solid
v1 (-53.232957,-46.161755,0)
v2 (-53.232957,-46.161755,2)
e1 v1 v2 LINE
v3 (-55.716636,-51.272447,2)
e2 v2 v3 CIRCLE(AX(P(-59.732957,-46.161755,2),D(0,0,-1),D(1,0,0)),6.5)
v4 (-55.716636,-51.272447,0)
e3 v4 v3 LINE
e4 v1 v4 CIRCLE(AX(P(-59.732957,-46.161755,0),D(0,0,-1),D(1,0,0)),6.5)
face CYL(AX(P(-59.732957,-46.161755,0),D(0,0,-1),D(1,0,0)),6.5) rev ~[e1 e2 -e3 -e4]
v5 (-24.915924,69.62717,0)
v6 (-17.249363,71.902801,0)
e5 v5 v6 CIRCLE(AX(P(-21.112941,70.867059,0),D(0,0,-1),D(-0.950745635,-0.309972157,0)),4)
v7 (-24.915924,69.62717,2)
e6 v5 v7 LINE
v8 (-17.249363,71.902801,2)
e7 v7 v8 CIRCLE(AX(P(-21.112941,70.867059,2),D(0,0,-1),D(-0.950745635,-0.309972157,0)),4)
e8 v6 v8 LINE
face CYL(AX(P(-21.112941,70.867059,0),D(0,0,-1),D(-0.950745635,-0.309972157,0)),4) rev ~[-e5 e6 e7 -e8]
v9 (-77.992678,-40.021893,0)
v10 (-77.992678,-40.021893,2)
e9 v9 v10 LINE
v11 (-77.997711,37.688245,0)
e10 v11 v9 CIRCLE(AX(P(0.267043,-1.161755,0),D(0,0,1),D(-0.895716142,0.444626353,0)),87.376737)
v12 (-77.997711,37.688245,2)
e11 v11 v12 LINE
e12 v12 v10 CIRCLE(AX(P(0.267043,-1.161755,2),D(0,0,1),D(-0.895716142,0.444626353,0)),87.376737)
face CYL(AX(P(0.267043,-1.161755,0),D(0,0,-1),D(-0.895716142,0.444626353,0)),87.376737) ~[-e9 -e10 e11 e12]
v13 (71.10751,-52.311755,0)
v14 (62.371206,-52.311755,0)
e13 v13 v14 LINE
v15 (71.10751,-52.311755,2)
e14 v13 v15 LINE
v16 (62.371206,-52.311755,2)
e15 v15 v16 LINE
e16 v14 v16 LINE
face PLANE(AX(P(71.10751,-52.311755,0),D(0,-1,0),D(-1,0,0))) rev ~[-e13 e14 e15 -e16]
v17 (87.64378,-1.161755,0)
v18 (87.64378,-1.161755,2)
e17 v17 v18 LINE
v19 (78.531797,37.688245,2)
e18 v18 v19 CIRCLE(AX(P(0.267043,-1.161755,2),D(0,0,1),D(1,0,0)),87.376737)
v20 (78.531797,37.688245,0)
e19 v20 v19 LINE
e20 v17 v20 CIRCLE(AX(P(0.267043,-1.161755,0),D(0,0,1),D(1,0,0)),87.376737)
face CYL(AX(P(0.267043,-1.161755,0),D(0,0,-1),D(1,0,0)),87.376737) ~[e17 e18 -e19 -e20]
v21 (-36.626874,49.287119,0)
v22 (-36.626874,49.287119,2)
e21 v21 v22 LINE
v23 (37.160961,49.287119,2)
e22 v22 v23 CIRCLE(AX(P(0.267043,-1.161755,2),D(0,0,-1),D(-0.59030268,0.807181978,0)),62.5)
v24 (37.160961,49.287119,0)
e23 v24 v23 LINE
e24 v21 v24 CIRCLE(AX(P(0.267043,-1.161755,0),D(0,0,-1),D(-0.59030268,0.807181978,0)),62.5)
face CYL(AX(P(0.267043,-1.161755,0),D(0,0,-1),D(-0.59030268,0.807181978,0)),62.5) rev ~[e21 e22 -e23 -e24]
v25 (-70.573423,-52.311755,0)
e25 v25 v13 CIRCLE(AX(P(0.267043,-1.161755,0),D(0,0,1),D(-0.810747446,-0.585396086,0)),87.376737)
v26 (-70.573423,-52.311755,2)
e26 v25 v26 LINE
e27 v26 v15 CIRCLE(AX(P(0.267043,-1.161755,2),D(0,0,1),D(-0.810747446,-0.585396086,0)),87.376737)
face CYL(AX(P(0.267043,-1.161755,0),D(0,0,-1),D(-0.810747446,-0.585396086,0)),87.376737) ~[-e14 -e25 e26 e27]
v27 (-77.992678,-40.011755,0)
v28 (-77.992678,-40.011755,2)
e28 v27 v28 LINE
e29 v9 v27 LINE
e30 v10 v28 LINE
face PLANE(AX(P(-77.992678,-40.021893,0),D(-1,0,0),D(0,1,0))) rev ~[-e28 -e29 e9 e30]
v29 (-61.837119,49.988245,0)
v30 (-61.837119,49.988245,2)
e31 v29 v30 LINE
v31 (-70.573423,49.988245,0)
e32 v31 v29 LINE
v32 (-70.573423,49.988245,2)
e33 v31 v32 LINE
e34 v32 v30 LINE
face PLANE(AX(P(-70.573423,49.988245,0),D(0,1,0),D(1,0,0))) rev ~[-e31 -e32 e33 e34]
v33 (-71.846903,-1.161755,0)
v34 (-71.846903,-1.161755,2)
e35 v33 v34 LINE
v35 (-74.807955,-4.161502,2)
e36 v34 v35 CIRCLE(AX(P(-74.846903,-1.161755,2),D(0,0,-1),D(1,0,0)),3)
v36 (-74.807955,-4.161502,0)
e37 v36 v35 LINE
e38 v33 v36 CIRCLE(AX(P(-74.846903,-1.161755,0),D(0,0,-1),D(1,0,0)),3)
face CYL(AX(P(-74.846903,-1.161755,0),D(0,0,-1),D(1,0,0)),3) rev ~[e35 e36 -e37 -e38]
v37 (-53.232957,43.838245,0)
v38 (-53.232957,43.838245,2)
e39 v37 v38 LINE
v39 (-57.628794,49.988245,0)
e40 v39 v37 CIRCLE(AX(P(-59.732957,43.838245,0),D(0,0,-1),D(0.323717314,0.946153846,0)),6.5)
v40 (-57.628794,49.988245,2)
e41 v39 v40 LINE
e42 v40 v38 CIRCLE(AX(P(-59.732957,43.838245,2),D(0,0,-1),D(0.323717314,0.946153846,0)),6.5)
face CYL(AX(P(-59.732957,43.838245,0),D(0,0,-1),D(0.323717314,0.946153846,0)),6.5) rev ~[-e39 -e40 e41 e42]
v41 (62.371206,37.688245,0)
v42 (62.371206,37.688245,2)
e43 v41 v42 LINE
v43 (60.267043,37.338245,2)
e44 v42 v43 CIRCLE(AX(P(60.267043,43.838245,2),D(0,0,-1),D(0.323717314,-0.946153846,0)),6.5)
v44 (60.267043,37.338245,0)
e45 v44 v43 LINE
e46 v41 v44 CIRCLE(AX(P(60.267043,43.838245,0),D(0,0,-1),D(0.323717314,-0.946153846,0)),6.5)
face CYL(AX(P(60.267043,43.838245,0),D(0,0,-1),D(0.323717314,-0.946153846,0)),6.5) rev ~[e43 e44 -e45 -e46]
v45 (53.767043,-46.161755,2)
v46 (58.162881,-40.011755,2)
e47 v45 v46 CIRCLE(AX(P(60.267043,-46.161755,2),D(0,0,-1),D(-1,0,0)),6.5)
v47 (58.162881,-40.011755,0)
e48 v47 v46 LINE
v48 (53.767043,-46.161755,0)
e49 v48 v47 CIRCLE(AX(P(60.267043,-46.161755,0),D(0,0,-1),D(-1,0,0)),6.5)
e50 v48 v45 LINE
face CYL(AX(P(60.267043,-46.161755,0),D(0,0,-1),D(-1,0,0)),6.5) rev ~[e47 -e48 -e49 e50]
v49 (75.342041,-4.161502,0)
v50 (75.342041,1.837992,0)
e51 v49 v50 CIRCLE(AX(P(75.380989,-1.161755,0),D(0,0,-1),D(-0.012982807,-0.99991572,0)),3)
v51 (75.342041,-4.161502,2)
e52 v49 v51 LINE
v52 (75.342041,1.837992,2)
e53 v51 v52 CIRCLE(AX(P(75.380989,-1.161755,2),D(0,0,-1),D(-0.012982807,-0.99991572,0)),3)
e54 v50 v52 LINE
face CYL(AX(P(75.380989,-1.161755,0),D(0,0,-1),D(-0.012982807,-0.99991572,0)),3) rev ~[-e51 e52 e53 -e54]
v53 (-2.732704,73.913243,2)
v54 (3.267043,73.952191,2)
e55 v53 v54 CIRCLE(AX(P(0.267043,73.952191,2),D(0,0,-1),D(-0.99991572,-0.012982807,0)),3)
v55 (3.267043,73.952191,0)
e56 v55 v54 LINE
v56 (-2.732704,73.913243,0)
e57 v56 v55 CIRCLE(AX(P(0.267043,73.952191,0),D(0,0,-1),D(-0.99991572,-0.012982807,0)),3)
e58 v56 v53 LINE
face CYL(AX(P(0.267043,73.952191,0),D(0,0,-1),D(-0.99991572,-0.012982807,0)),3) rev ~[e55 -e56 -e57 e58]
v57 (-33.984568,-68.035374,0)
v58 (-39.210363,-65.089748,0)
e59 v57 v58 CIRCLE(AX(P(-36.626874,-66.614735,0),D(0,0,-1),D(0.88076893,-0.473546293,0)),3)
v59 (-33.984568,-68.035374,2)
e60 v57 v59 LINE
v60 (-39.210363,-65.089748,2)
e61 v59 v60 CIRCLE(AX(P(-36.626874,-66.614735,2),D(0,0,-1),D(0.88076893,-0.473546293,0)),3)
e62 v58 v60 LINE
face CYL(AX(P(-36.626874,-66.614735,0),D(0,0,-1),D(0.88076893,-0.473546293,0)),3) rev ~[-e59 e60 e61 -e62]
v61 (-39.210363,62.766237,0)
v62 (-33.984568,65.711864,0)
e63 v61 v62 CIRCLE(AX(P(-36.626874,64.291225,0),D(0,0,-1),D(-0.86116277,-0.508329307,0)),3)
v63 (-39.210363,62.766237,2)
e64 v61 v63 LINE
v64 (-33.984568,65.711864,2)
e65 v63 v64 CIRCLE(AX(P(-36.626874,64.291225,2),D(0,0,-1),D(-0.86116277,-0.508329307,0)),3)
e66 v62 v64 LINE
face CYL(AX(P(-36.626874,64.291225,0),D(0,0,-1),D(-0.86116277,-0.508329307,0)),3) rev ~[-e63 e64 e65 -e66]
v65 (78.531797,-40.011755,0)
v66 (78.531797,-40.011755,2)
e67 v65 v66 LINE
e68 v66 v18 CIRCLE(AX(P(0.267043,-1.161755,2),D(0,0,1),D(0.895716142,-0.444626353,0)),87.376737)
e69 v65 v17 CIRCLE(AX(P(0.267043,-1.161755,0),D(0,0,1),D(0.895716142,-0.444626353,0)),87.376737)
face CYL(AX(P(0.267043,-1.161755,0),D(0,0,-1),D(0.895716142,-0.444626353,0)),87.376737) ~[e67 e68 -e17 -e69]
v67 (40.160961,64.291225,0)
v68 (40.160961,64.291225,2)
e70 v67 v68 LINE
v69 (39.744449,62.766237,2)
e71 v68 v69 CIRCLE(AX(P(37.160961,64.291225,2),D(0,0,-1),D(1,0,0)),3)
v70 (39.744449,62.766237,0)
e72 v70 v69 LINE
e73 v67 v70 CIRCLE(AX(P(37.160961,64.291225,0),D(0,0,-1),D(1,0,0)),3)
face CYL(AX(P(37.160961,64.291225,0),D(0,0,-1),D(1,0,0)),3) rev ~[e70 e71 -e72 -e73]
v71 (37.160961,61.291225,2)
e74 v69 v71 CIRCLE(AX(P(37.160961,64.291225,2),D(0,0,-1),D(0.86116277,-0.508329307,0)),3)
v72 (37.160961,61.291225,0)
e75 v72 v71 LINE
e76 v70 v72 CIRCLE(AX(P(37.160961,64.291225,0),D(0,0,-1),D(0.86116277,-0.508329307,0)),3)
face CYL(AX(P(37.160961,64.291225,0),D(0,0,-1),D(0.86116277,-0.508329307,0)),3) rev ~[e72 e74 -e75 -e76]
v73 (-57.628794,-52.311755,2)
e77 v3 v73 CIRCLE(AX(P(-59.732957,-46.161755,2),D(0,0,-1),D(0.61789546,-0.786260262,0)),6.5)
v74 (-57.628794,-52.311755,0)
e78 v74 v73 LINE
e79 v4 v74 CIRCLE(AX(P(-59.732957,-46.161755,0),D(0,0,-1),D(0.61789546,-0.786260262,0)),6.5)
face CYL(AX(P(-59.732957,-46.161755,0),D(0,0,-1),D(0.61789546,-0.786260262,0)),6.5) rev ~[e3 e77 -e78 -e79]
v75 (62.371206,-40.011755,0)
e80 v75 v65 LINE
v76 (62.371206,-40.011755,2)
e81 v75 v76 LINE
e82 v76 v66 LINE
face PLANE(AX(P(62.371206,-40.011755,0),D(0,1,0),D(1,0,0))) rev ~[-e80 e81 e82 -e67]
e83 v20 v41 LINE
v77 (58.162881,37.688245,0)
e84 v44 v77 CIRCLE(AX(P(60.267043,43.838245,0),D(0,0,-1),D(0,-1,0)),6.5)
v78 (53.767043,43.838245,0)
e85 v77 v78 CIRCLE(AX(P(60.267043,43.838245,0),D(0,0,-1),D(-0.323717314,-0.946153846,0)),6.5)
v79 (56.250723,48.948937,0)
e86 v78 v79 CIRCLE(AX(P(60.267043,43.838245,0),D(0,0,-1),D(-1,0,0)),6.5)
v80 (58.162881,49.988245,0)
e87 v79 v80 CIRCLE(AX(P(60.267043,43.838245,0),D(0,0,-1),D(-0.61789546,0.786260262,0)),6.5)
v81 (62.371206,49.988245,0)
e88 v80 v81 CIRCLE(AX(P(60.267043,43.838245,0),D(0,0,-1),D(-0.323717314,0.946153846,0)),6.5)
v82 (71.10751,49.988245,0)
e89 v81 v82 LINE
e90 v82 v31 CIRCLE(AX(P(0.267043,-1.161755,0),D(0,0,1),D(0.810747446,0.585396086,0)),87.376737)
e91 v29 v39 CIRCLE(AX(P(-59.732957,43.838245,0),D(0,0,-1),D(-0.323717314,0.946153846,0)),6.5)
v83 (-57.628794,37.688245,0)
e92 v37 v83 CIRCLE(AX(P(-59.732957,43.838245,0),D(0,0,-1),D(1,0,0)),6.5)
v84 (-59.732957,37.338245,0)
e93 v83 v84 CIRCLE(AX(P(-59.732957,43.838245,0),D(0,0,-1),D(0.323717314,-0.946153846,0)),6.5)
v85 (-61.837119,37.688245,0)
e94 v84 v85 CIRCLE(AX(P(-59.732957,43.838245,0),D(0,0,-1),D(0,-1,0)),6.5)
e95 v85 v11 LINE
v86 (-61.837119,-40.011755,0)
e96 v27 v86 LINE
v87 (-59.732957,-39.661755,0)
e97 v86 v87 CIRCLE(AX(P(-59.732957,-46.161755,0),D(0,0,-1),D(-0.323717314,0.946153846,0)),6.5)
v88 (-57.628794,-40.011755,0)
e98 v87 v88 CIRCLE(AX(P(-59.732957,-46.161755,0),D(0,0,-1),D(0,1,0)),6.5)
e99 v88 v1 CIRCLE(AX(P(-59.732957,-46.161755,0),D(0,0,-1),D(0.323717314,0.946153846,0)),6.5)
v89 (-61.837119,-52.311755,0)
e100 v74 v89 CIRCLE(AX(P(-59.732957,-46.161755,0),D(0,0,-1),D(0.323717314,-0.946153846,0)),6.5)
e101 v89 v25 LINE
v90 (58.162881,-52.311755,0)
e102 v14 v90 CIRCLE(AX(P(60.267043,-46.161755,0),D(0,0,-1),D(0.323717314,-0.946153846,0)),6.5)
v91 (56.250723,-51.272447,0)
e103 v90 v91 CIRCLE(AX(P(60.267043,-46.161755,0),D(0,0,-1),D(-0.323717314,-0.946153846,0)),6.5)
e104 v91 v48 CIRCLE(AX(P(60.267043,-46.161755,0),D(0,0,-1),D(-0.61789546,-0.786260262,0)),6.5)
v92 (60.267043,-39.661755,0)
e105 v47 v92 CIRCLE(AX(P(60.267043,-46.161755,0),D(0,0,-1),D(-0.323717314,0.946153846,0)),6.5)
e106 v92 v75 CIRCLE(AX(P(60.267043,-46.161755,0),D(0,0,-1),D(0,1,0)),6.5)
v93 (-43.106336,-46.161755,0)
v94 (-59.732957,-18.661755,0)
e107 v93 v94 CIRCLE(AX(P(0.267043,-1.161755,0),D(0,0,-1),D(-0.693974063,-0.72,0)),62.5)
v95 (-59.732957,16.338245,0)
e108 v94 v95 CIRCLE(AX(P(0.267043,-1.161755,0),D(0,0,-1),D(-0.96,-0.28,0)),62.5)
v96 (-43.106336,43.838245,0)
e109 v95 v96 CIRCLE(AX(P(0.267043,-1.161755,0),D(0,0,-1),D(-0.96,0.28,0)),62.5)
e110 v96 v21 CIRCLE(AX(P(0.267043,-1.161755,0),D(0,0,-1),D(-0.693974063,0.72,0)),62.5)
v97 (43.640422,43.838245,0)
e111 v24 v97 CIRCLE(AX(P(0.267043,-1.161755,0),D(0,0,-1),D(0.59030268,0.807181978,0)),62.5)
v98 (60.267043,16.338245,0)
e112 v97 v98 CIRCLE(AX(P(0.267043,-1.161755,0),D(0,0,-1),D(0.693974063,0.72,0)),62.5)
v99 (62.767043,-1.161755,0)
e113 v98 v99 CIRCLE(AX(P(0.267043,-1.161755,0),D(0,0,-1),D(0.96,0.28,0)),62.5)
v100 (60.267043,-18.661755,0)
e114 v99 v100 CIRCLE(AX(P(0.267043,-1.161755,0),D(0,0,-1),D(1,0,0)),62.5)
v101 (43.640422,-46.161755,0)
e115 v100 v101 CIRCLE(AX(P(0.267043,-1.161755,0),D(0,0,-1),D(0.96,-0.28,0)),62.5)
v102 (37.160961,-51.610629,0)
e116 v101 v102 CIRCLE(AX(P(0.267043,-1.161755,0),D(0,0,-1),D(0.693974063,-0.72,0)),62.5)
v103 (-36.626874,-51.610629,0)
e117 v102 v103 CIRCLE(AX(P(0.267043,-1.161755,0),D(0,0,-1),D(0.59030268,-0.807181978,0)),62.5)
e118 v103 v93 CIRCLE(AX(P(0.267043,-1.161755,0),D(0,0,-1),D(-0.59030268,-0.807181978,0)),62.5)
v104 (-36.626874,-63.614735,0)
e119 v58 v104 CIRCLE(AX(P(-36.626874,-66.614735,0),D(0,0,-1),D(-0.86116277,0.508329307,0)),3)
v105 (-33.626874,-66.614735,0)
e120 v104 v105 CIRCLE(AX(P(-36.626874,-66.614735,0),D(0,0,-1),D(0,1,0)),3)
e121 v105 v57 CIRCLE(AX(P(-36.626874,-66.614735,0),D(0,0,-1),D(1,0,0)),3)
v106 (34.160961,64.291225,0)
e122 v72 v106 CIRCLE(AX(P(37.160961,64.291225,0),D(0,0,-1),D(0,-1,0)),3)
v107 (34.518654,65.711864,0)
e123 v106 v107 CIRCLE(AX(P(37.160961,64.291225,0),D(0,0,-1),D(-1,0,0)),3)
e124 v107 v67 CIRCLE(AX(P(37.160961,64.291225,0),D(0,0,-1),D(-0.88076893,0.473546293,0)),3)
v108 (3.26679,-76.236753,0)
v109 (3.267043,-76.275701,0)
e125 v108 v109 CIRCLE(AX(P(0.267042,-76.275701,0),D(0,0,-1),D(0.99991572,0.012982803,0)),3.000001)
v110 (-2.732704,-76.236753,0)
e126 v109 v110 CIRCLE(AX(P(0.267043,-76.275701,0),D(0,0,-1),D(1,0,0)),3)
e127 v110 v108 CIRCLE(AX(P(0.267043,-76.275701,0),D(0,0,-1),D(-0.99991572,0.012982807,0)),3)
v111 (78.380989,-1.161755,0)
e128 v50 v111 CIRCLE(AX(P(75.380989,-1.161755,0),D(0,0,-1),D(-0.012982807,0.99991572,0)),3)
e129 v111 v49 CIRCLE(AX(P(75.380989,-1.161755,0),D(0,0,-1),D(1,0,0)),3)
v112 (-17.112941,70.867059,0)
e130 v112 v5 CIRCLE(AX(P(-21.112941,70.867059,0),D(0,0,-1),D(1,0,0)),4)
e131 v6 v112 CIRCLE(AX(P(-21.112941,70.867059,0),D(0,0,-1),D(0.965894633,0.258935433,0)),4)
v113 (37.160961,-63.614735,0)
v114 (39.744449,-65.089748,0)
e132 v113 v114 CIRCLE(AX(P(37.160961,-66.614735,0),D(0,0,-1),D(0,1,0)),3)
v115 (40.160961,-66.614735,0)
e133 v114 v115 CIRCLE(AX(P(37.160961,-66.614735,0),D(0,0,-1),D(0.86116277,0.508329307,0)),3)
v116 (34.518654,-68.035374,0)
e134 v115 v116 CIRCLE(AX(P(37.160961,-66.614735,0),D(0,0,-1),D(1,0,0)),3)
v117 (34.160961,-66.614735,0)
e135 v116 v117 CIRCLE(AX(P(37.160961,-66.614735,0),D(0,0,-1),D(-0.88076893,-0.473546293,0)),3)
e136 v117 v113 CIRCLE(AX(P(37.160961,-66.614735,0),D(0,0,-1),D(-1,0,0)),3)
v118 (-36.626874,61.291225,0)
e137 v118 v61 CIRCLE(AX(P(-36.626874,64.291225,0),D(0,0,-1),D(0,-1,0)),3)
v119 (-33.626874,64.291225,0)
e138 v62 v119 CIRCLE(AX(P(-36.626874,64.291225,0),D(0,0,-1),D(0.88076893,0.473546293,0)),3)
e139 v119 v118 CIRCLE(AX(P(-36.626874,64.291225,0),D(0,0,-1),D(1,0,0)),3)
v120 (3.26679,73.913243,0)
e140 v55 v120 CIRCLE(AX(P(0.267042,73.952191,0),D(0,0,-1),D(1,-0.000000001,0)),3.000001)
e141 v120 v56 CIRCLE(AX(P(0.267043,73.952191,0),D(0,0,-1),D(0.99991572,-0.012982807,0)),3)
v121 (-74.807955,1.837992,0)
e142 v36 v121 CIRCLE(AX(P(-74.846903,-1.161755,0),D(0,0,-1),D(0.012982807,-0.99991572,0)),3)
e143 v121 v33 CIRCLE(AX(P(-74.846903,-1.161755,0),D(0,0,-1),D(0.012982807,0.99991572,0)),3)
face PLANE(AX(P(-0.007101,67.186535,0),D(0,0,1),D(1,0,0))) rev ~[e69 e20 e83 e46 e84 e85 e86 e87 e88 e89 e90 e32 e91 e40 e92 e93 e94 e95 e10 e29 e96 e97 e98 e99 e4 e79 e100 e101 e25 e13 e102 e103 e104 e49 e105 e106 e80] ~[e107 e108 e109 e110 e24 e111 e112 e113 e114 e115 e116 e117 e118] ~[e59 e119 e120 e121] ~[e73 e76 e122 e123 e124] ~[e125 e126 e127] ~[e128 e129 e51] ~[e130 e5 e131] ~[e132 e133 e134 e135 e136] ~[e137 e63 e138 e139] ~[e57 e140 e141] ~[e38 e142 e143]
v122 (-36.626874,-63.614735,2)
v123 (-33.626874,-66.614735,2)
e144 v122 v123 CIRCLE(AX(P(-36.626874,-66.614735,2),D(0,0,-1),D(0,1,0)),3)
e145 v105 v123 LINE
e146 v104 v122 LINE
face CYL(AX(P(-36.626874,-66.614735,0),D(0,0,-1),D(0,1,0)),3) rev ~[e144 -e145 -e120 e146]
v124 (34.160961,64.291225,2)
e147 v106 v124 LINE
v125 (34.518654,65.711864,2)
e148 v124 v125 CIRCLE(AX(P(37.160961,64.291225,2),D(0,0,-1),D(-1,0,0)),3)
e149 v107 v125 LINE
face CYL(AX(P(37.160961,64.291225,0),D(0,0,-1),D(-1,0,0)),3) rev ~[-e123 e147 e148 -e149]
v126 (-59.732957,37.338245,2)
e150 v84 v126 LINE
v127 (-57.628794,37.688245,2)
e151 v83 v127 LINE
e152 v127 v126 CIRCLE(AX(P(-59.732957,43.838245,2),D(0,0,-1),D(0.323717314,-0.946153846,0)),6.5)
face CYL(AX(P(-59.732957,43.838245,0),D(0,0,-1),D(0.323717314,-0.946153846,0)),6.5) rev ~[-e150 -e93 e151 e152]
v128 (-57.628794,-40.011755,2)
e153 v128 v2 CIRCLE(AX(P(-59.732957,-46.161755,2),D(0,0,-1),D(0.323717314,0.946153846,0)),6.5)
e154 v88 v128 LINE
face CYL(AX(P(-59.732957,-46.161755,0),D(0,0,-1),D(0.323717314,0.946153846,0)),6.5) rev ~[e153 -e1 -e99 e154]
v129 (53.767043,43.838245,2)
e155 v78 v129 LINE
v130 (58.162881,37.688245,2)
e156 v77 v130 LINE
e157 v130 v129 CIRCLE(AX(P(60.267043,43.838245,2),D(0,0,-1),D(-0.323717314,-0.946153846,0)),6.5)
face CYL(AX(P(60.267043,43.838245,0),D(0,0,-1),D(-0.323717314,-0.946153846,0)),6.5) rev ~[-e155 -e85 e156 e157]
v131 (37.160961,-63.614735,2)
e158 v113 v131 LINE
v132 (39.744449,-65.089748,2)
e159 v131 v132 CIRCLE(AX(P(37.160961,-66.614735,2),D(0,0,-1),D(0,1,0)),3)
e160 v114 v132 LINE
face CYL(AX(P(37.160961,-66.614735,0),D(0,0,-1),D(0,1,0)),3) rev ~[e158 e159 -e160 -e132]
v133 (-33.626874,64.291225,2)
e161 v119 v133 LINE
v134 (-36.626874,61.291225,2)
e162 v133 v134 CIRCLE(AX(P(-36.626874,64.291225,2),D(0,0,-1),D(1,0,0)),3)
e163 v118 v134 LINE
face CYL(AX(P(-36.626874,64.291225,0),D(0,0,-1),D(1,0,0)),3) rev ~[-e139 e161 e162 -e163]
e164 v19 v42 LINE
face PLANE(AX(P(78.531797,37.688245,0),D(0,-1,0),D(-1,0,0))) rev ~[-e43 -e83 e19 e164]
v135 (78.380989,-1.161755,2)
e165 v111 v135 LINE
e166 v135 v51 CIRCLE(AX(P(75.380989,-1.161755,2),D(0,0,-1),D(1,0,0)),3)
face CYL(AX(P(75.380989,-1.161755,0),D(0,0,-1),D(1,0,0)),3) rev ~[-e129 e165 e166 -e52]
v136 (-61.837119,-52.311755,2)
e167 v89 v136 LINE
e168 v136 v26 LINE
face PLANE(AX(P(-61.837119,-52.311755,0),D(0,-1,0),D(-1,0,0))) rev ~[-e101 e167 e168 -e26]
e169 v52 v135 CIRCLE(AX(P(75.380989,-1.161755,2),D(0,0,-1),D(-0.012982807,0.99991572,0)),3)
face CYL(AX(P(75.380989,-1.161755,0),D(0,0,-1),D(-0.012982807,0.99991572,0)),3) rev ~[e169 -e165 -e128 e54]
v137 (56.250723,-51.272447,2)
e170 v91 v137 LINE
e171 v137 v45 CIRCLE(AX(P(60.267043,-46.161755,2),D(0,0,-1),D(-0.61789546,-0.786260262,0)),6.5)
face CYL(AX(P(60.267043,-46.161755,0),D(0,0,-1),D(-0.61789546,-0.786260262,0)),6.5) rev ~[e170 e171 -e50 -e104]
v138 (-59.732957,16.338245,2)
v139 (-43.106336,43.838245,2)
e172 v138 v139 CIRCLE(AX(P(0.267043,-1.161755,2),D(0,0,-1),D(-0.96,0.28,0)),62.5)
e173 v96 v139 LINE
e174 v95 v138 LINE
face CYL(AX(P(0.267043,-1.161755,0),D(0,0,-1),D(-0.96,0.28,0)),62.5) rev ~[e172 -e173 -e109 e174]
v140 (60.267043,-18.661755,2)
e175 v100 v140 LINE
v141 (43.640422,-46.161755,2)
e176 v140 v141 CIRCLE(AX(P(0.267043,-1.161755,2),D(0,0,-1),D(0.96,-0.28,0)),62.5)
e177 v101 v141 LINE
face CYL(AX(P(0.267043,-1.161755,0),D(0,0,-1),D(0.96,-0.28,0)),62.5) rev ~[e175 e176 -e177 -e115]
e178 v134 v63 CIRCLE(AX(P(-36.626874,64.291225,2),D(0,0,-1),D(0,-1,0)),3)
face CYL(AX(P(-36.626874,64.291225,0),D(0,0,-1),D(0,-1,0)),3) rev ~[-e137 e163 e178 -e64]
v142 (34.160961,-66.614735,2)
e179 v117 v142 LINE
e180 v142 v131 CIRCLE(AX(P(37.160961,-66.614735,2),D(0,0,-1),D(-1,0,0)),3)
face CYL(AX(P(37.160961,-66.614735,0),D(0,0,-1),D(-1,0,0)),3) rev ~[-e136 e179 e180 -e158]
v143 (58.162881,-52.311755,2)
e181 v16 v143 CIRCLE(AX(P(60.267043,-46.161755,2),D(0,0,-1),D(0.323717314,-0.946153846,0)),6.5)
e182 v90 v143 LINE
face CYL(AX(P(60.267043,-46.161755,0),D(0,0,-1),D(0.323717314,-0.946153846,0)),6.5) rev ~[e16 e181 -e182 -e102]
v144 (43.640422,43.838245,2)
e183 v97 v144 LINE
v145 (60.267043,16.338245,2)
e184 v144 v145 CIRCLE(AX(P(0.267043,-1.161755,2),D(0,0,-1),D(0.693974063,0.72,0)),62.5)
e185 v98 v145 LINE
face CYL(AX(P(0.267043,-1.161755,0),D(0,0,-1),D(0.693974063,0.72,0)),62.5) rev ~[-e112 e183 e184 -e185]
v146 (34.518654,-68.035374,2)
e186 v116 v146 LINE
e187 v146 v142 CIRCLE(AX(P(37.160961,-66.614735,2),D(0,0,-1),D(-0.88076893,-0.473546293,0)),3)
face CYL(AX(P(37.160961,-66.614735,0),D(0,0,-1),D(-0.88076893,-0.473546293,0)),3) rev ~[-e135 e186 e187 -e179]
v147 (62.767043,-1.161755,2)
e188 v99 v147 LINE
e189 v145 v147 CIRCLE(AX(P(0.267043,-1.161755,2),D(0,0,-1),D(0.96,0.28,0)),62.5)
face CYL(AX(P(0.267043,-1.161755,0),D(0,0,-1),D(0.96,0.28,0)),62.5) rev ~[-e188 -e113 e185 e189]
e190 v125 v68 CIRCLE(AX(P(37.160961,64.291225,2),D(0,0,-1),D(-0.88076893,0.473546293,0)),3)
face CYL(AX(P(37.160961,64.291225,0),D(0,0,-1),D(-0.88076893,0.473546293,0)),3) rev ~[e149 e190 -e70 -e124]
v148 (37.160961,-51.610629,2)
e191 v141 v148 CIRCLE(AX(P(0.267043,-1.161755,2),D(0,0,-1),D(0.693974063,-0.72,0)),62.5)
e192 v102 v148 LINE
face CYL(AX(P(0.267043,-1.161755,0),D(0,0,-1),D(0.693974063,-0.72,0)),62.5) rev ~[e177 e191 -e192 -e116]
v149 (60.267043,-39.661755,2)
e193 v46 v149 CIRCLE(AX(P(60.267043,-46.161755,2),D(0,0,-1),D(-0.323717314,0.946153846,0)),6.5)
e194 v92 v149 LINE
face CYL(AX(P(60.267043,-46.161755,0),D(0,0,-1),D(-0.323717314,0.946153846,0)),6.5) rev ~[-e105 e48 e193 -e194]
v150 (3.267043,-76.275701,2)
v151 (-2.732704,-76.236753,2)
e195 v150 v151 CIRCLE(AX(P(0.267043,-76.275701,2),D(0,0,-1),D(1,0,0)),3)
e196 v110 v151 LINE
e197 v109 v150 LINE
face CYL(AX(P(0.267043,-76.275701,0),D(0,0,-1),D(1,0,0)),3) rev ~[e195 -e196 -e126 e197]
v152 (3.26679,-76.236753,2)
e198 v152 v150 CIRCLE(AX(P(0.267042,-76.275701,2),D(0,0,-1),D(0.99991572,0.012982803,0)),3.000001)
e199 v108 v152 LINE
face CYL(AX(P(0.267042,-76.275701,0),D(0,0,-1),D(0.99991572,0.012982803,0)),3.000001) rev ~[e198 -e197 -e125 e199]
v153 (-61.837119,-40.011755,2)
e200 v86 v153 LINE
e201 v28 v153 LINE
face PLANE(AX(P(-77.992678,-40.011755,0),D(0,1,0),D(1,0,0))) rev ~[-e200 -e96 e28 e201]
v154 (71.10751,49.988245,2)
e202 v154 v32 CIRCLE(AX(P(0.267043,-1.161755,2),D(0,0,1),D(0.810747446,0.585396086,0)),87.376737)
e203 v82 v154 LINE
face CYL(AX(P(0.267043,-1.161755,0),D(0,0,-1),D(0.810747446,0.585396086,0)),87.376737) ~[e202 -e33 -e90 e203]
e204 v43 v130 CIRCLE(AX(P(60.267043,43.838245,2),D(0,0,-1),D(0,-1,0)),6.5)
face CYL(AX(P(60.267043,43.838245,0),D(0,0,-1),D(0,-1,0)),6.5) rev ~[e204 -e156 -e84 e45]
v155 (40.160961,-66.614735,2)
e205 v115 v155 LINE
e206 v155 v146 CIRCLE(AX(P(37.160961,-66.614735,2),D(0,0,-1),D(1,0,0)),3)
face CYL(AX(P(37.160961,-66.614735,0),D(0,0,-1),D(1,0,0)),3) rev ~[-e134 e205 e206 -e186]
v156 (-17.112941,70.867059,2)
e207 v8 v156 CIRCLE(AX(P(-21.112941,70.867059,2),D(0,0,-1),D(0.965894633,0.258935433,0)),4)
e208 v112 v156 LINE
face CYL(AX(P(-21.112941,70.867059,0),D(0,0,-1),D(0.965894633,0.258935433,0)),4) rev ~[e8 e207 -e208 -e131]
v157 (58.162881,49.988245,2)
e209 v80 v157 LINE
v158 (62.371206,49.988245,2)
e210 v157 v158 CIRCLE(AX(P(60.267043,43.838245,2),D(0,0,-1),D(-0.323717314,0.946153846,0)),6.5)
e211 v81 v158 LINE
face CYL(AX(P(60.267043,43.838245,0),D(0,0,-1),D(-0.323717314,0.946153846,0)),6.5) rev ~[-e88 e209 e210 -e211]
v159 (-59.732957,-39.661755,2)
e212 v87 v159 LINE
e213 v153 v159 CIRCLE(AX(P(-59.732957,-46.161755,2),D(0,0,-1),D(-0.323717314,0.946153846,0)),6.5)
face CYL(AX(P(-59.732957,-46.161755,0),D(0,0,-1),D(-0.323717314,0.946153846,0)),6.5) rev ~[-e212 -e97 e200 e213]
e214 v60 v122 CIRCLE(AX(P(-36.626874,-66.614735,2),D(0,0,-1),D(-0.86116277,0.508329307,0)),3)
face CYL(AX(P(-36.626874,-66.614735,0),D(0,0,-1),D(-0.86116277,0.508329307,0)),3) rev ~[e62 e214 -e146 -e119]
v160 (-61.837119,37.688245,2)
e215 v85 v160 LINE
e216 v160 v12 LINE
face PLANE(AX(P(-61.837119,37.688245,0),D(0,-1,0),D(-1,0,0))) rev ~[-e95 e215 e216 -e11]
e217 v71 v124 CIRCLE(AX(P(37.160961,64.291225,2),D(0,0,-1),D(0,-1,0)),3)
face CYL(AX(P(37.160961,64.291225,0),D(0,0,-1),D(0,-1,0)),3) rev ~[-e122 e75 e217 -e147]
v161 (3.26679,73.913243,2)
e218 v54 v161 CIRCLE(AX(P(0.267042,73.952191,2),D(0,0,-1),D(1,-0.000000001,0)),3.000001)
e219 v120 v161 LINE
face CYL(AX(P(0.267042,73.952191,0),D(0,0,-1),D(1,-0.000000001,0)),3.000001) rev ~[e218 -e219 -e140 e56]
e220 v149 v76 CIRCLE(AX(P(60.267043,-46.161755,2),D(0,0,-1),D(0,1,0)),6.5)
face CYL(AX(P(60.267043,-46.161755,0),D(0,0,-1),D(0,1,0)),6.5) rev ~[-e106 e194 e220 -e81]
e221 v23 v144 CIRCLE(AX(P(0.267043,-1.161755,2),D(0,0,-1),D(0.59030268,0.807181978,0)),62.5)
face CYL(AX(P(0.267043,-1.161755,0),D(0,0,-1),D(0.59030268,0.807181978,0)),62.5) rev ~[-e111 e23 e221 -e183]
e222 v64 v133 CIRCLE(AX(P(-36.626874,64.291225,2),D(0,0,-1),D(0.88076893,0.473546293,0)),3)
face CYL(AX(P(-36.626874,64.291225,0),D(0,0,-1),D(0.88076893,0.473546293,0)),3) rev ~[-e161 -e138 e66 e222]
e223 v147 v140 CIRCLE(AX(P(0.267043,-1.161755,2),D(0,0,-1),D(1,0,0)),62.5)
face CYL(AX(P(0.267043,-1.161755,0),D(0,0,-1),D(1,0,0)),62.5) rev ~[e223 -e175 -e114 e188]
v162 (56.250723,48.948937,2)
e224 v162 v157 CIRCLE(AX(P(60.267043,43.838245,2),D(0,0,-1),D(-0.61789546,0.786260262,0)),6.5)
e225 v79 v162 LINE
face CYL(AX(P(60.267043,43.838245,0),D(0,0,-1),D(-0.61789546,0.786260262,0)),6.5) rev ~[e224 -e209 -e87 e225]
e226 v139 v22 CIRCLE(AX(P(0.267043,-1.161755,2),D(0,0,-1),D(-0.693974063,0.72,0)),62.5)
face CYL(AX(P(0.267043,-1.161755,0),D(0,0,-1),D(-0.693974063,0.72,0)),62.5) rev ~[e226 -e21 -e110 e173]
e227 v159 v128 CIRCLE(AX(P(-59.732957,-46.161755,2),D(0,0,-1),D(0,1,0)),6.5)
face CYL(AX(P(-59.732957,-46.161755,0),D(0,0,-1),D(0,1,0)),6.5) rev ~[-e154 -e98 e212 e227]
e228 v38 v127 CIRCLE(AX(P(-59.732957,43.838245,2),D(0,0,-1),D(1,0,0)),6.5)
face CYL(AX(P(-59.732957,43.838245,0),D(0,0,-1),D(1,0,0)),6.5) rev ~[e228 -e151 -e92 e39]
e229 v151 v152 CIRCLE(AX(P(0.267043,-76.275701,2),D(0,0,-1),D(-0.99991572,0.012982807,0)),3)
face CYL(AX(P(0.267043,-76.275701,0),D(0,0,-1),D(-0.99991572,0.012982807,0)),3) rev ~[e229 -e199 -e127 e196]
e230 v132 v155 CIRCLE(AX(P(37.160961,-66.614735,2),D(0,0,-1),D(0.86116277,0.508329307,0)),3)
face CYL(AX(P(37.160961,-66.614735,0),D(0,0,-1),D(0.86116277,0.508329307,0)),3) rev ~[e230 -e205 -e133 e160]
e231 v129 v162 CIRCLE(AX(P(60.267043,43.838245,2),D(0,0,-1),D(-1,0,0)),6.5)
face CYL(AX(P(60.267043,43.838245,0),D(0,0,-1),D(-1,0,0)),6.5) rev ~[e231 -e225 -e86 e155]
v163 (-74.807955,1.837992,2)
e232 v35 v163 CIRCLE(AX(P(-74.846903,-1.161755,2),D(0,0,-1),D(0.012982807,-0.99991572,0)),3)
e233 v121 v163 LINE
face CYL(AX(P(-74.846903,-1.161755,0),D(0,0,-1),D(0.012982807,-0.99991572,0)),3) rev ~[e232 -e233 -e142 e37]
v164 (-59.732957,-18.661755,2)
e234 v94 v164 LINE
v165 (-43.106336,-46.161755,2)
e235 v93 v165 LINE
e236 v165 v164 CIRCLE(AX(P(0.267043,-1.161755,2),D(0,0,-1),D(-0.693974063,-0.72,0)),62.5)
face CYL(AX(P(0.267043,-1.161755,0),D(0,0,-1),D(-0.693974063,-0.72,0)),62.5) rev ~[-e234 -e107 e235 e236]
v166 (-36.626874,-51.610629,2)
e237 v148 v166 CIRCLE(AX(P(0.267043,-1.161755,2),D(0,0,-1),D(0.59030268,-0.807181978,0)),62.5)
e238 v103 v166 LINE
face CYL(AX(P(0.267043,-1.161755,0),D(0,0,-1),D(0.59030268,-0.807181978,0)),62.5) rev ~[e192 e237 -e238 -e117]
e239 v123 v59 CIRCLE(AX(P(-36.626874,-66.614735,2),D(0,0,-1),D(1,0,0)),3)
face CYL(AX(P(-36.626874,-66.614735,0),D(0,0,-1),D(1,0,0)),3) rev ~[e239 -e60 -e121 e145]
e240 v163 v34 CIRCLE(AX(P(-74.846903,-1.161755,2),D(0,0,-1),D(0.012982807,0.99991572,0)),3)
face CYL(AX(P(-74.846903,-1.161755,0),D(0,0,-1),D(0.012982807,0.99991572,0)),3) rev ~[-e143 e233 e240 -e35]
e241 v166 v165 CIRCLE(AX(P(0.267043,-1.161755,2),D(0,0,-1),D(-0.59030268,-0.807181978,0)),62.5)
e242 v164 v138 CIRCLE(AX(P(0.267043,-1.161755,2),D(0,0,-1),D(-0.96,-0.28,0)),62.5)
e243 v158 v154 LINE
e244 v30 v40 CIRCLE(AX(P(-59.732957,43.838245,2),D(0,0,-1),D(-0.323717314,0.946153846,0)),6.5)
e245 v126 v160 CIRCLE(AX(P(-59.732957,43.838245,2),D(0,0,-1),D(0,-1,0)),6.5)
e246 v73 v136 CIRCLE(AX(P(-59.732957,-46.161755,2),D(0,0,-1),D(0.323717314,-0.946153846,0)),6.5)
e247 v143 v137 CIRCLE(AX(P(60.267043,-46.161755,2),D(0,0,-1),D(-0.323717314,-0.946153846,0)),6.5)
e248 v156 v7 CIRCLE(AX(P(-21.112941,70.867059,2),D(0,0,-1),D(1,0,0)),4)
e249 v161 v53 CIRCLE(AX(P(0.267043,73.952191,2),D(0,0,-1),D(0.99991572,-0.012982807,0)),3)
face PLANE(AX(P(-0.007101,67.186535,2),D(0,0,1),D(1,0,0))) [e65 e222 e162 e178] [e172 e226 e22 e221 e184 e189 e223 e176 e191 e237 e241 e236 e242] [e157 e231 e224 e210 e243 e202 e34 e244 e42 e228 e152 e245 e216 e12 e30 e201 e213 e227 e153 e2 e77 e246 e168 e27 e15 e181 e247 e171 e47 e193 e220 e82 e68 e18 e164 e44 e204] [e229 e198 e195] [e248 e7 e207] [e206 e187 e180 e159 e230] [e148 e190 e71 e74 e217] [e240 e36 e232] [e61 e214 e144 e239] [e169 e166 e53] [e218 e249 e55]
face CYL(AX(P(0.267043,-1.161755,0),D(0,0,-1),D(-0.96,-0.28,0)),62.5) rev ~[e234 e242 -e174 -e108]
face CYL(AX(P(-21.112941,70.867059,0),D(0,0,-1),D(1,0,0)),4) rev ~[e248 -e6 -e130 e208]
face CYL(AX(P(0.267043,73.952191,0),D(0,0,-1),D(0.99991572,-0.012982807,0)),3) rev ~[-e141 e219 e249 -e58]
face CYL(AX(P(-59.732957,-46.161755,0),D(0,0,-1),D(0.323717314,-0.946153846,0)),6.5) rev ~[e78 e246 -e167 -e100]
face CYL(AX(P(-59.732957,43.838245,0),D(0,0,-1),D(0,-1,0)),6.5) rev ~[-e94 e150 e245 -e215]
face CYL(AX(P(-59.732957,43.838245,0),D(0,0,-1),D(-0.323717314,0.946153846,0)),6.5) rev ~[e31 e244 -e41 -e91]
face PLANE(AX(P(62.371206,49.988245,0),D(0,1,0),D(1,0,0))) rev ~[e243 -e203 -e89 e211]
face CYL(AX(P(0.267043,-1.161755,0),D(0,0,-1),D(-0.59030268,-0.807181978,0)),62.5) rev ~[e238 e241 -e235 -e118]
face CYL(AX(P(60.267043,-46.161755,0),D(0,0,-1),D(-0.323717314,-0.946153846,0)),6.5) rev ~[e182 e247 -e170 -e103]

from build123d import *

# Parameters (mm, degrees)
F1_DEPTH = 2


with BuildPart() as f1:
    # F0 (on Top) → F1 (new body)
    with BuildSketch(Plane.XY):
        with BuildLine():
            ThreePointArc((39.7444489138, 62.7662374325), (48.4949826486, 56.4517818988), (56.25072261, 48.9489366399))
            ThreePointArc((56.25072261, 48.9489366399), (57.1629943627, 49.5491889391), (58.1628805597, 49.9882449339))
            ThreePointArc((58.1628805597, 49.9882449339), (60.2670431009, 50.3382449339), (62.3712056422, 49.9882449339))
            Line((62.3712056422, 49.9882449339), (71.1075096636, 49.9882449339))
            ThreePointArc((71.1075096636, 49.9882449339), (0.2670431009, 86.2149821287), (-70.5734234617, 49.9882449339))
            Line((-70.5734234617, 49.9882449339), (-61.8371194403, 49.9882449339))
            ThreePointArc((-61.8371194403, 49.9882449339), (-59.7329568991, 50.3382449339), (-57.6287943578, 49.9882449339))
            ThreePointArc((-57.6287943578, 49.9882449339), (-56.6289081608, 49.5491889391), (-55.7166364081, 48.9489366399))
            ThreePointArc((-55.7166364081, 48.9489366399), (-47.9608964467, 56.4517818988), (-39.210362712, 62.7662374325))
            ThreePointArc((-39.210362712, 62.7662374325), (-38.0999813971, 66.9046437634), (-33.9845676129, 65.7118642328))
            ThreePointArc((-33.9845676129, 65.7118642328), (-29.5146570092, 67.8187069008), (-24.9159238599, 69.6271704072))
            ThreePointArc((-24.9159238599, 69.6271704072), (-22.2511598208, 74.7016983457), (-17.2493627904, 71.9028007682))
            ThreePointArc((-17.2493627904, 71.9028007682), (-10.040168129, 73.2628053376), (-2.7327040585, 73.9132428466))
            ThreePointArc((-2.7327040585, 73.9132428466), (0.2475684804, 76.9521280563), (3.2670431009, 73.9521912671))
            ThreePointArc((3.2670431009, 73.9521912671), (3.2669798901, 73.9327166465), (3.2667902604, 73.9132428466))
            ThreePointArc((3.2667902604, 73.9132428466), (19.3387910188, 71.5123271502), (34.5186538148, 65.7118642328))
            ThreePointArc((34.5186538148, 65.7118642328), (37.8934493863, 67.2004280253), (40.1609606052, 64.2912253535))
            ThreePointArc((40.1609606052, 64.2912253535), (40.0549599941, 63.5008029746), (39.7444489138, 62.7662374325))
        make_face()
        with BuildLine():
            Line((-33.6268744033, 64.2912253535), (34.1609606052, 64.2912253535))
            ThreePointArc((34.1609606052, 64.2912253535), (34.2517579334, 65.0237141345), (34.5186538148, 65.7118642328))
            ThreePointArc((34.5186538148, 65.7118642328), (19.3387910188, 71.5123271502), (3.2667902604, 73.9132428466))
            ThreePointArc((3.2667902604, 73.9132428466), (0.2670431009, 70.9521912671), (-2.7327040585, 73.9132428466))
            ThreePointArc((-2.7327040585, 73.9132428466), (-10.040168129, 73.2628053376), (-17.2493627904, 71.9028007682))
            ThreePointArc((-17.2493627904, 71.9028007682), (-17.1471933384, 71.3894027327), (-17.1129413209, 70.8670590345))
            ThreePointArc((-17.1129413209, 70.8670590345), (-20.4852193108, 66.9166204414), (-24.9159238599, 69.6271704072))
            ThreePointArc((-24.9159238599, 69.6271704072), (-29.5146570092, 67.8187069008), (-33.9845676129, 65.7118642328))
            ThreePointArc((-33.9845676129, 65.7118642328), (-33.7176717315, 65.0237141345), (-33.6268744033, 64.2912253535))
        make_face()
        with BuildLine():
            ThreePointArc((-36.6268744033, 49.2871185703), (0.2670431009, 61.3382449339), (37.1609606052, 49.2871185703))
            Line((37.1609606052, 49.2871185703), (37.1609606052, 61.2912253535))
            ThreePointArc((37.1609606052, 61.2912253535), (35.0396402617, 62.1699050099), (34.1609606052, 64.2912253535))
            Line((34.1609606052, 64.2912253535), (-33.6268744033, 64.2912253535))
            ThreePointArc((-33.6268744033, 64.2912253535), (-34.5055540598, 62.1699050099), (-36.6268744033, 61.2912253535))
            Line((-36.6268744033, 61.2912253535), (-36.6268744033, 49.2871185703))
        make_face()
        with BuildLine():
            ThreePointArc((-43.1063358313, 43.8382449339), (-39.9589718059, 46.6725184699), (-36.6268744033, 49.2871185703))
            Line((-36.6268744033, 49.2871185703), (-36.6268744033, 61.2912253535))
            ThreePointArc((-36.6268744033, 61.2912253535), (-38.1143279719, 61.6859457367), (-39.210362712, 62.7662374325))
            ThreePointArc((-39.210362712, 62.7662374325), (-47.9608964467, 56.4517818988), (-55.7166364081, 48.9489366399))
            ThreePointArc((-55.7166364081, 48.9489366399), (-53.8867579976, 46.6793641507), (-53.2329568991, 43.8382449339))
            Line((-53.2329568991, 43.8382449339), (-43.1063358313, 43.8382449339))
        make_face()
        with BuildLine():
            ThreePointArc((-59.7329568991, 16.3382449339), (-53.217313191, 31.1751222109), (-43.1063358313, 43.8382449339))
            Line((-43.1063358313, 43.8382449339), (-53.2329568991, 43.8382449339))
            ThreePointArc((-53.2329568991, 43.8382449339), (-54.4449016555, 40.0585000032), (-57.6287943578, 37.6882449339))
            ThreePointArc((-57.6287943578, 37.6882449339), (-58.6664204487, 37.4263419402), (-59.7329568991, 37.3382449339))
            Line((-59.7329568991, 37.3382449339), (-59.7329568991, 16.3382449339))
        make_face()
        with BuildLine():
            ThreePointArc((-59.7329568991, -18.6617550661), (-62.2329568991, -1.1617550661), (-59.7329568991, 16.3382449339))
            Line((-59.7329568991, 16.3382449339), (-59.7329568991, 37.3382449339))
            ThreePointArc((-59.7329568991, 37.3382449339), (-60.7994933494, 37.4263419402), (-61.8371194403, 37.6882449339))
            Line((-61.8371194403, 37.6882449339), (-64.0441635012, 37.6882449339))
            ThreePointArc((-64.0441635012, 37.6882449339), (-71.6943261151, 20.4441500334), (-74.8079548118, 1.8379920933))
            ThreePointArc((-74.8079548118, 1.8379920933), (-72.7118569492, 0.9457499444), (-71.8469032323, -1.1617550661))
            ThreePointArc((-71.8469032323, -1.1617550661), (-72.7118569492, -3.2692600767), (-74.8079548118, -4.1615022256))
            ThreePointArc((-74.8079548118, -4.1615022256), (-71.6943261151, -22.7676601657), (-64.0441635012, -40.0117550661))
            Line((-64.0441635012, -40.0117550661), (-61.8371194403, -40.0117550661))
            ThreePointArc((-61.8371194403, -40.0117550661), (-60.7994933494, -39.7498520725), (-59.7329568991, -39.6617550661))
            Line((-59.7329568991, -39.6617550661), (-59.7329568991, -18.6617550661))
        make_face()
        with BuildLine():
            Line((-64.0441635012, 37.6882449339), (-77.9977107977, 37.6882449339))
            ThreePointArc((-77.9977107977, 37.6882449339), (-87.1096939106, -1.1674142446), (-77.9926777014, -40.0218927752))
            Line((-77.9926777014, -40.0218927752), (-77.9926777014, -40.0117550661))
            Line((-77.9926777014, -40.0117550661), (-64.0441635012, -40.0117550661))
            ThreePointArc((-64.0441635012, -40.0117550661), (-71.6943261151, -22.7676601657), (-74.8079548118, -4.1615022256))
            ThreePointArc((-74.8079548118, -4.1615022256), (-77.8469032323, -1.1617550661), (-74.8079548118, 1.8379920933))
            ThreePointArc((-74.8079548118, 1.8379920933), (-71.6943261151, 20.4441500334), (-64.0441635012, 37.6882449339))
        make_face()
        with BuildLine():
            Line((43.6404220332, 43.8382449339), (53.7670431009, 43.8382449339))
            ThreePointArc((53.7670431009, 43.8382449339), (54.4208441995, 46.6793641507), (56.25072261, 48.9489366399))
            ThreePointArc((56.25072261, 48.9489366399), (48.4949826486, 56.4517818988), (39.7444489138, 62.7662374325))
            ThreePointArc((39.7444489138, 62.7662374325), (38.6484141737, 61.6859457367), (37.1609606052, 61.2912253535))
            Line((37.1609606052, 61.2912253535), (37.1609606052, 49.2871185703))
            ThreePointArc((37.1609606052, 49.2871185703), (40.4930580078, 46.6725184699), (43.6404220332, 43.8382449339))
        make_face()
        with BuildLine():
            ThreePointArc((58.1628805597, 37.6882449339), (54.9789878574, 40.0585000032), (53.7670431009, 43.8382449339))
            Line((53.7670431009, 43.8382449339), (43.6404220332, 43.8382449339))
            ThreePointArc((43.6404220332, 43.8382449339), (53.7513993929, 31.1751222109), (60.2670431009, 16.3382449339))
            Line((60.2670431009, 16.3382449339), (60.2670431009, 37.3382449339))
            ThreePointArc((60.2670431009, 37.3382449339), (59.2005066506, 37.4263419402), (58.1628805597, 37.6882449339))
        make_face()
        with BuildLine():
            ThreePointArc((62.3712056422, 37.6882449339), (61.3335795513, 37.4263419402), (60.2670431009, 37.3382449339))
            Line((60.2670431009, 37.3382449339), (60.2670431009, 16.3382449339))
            ThreePointArc((60.2670431009, 16.3382449339), (62.1388864548, 7.6770796987), (62.7670431009, -1.1617550661))
            ThreePointArc((62.7670431009, -1.1617550661), (62.1388864548, -10.000589831), (60.2670431009, -18.6617550661))
            Line((60.2670431009, -18.6617550661), (60.2670431009, -39.6617550661))
            ThreePointArc((60.2670431009, -39.6617550661), (61.3335795513, -39.7498520725), (62.3712056422, -40.0117550661))
            Line((62.3712056422, -40.0117550661), (64.5782497031, -40.0117550661))
            ThreePointArc((64.5782497031, -40.0117550661), (72.228412317, -22.7676601657), (75.3420410137, -4.1615022256))
            ThreePointArc((75.3420410137, -4.1615022256), (72.3809894341, -1.1617550661), (75.3420410137, 1.8379920933))
            ThreePointArc((75.3420410137, 1.8379920933), (72.228412317, 20.4441500334), (64.5782497031, 37.6882449339))
            Line((64.5782497031, 37.6882449339), (62.3712056422, 37.6882449339))
        make_face()
        with BuildLine():
            Line((78.5317969996, 37.6882449339), (64.5782497031, 37.6882449339))
            ThreePointArc((64.5782497031, 37.6882449339), (72.228412317, 20.4441500334), (75.3420410137, 1.8379920933))
            ThreePointArc((75.3420410137, 1.8379920933), (77.4884944447, 0.9732912169), (78.3809894341, -1.1617550661))
            ThreePointArc((78.3809894341, -1.1617550661), (77.4884944447, -3.2968013492), (75.3420410137, -4.1615022256))
            ThreePointArc((75.3420410137, -4.1615022256), (72.228412317, -22.7676601657), (64.5782497031, -40.0117550661))
            Line((64.5782497031, -40.0117550661), (78.5317969996, -40.0117550661))
            ThreePointArc((78.5317969996, -40.0117550661), (85.3352893384, -21.1138899118), (87.6437802958, -1.1617550661))
            ThreePointArc((87.6437802958, -1.1617550661), (85.3352893384, 18.7903797795), (78.5317969996, 37.6882449339))
        make_face()
        with BuildLine():
            Line((60.2670431009, -39.6617550661), (60.2670431009, -18.6617550661))
            ThreePointArc((60.2670431009, -18.6617550661), (53.7513993929, -33.4986323432), (43.6404220332, -46.1617550661))
            Line((43.6404220332, -46.1617550661), (53.7670431009, -46.1617550661))
            ThreePointArc((53.7670431009, -46.1617550661), (54.9789878574, -42.3820101355), (58.1628805597, -40.0117550661))
            ThreePointArc((58.1628805597, -40.0117550661), (59.2005066506, -39.7498520725), (60.2670431009, -39.6617550661))
        make_face()
        with BuildLine():
            Line((53.7670431009, -46.1617550661), (43.6404220332, -46.1617550661))
            ThreePointArc((43.6404220332, -46.1617550661), (40.4930580078, -48.9960286021), (37.1609606052, -51.6106287026))
            Line((37.1609606052, -51.6106287026), (37.1609606052, -63.6147354858))
            ThreePointArc((37.1609606052, -63.6147354858), (38.6484141737, -64.009455869), (39.7444489138, -65.0897475648))
            ThreePointArc((39.7444489138, -65.0897475648), (48.4949826486, -58.7752920311), (56.25072261, -51.2724467721))
            ThreePointArc((56.25072261, -51.2724467721), (54.4208441995, -49.002874283), (53.7670431009, -46.1617550661))
        make_face()
        with BuildLine():
            ThreePointArc((58.1628805597, -52.3117550661), (57.1629943627, -51.8726990713), (56.25072261, -51.2724467721))
            ThreePointArc((56.25072261, -51.2724467721), (48.4949826486, -58.7752920311), (39.7444489138, -65.0897475648))
            ThreePointArc((39.7444489138, -65.0897475648), (40.0549599941, -65.8243131069), (40.1609606052, -66.6147354858))
            ThreePointArc((40.1609606052, -66.6147354858), (37.8934493863, -69.5239381576), (34.5186538148, -68.035374365))
            ThreePointArc((34.5186538148, -68.035374365), (19.3387910188, -73.8358372824), (3.2667902604, -76.2367529789))
            ThreePointArc((3.2667902604, -76.2367529789), (3.2669798901, -76.2562267788), (3.2670431009, -76.2757013993))
            ThreePointArc((3.2670431009, -76.2757013993), (0.2475684804, -79.2756381885), (-2.7327040585, -76.2367529789))
            ThreePointArc((-2.7327040585, -76.2367529789), (-18.8047048169, -73.8358372824), (-33.9845676129, -68.035374365))
            ThreePointArc((-33.9845676129, -68.035374365), (-38.0999813971, -69.2281538956), (-39.210362712, -65.0897475648))
            ThreePointArc((-39.210362712, -65.0897475648), (-47.9608964467, -58.7752920311), (-55.7166364081, -51.2724467721))
            ThreePointArc((-55.7166364081, -51.2724467721), (-56.6289081608, -51.8726990713), (-57.6287943578, -52.3117550661))
            ThreePointArc((-57.6287943578, -52.3117550661), (-59.7329568991, -52.6617550661), (-61.8371194403, -52.3117550661))
            Line((-61.8371194403, -52.3117550661), (-70.5734234617, -52.3117550661))
            ThreePointArc((-70.5734234617, -52.3117550661), (0.2670431009, -88.538492261), (71.1075096636, -52.3117550661))
            Line((71.1075096636, -52.3117550661), (62.3712056422, -52.3117550661))
            ThreePointArc((62.3712056422, -52.3117550661), (60.2670431009, -52.6617550661), (58.1628805597, -52.3117550661))
        make_face()
        with BuildLine():
            Line((37.1609606052, -63.6147354858), (37.1609606052, -51.6106287026))
            ThreePointArc((37.1609606052, -51.6106287026), (0.2670431009, -63.6617550661), (-36.6268744033, -51.6106287026))
            Line((-36.6268744033, -51.6106287026), (-36.6268744033, -63.6147354858))
            ThreePointArc((-36.6268744033, -63.6147354858), (-34.5055540598, -64.4934151422), (-33.6268744033, -66.6147354858))
            Line((-33.6268744033, -66.6147354858), (34.1609606052, -66.6147354858))
            ThreePointArc((34.1609606052, -66.6147354858), (35.0396402617, -64.4934151422), (37.1609606052, -63.6147354858))
        make_face()
        with BuildLine():
            ThreePointArc((34.5186538148, -68.035374365), (34.2517579334, -67.3472242668), (34.1609606052, -66.6147354858))
            Line((34.1609606052, -66.6147354858), (-33.6268744033, -66.6147354858))
            ThreePointArc((-33.6268744033, -66.6147354858), (-33.7176717315, -67.3472242668), (-33.9845676129, -68.035374365))
            ThreePointArc((-33.9845676129, -68.035374365), (-18.8047048169, -73.8358372824), (-2.7327040585, -76.2367529789))
            ThreePointArc((-2.7327040585, -76.2367529789), (0.2670431009, -73.2757013993), (3.2667902604, -76.2367529789))
            ThreePointArc((3.2667902604, -76.2367529789), (19.3387910188, -73.8358372824), (34.5186538148, -68.035374365))
        make_face()
        with BuildLine():
            ThreePointArc((-36.6268744033, -51.6106287026), (-39.9589718059, -48.9960286021), (-43.1063358313, -46.1617550661))
            Line((-43.1063358313, -46.1617550661), (-53.2329568991, -46.1617550661))
            ThreePointArc((-53.2329568991, -46.1617550661), (-53.8867579976, -49.002874283), (-55.7166364081, -51.2724467721))
            ThreePointArc((-55.7166364081, -51.2724467721), (-47.9608964467, -58.7752920311), (-39.210362712, -65.0897475648))
            ThreePointArc((-39.210362712, -65.0897475648), (-38.1143279719, -64.009455869), (-36.6268744033, -63.6147354858))
            Line((-36.6268744033, -63.6147354858), (-36.6268744033, -51.6106287026))
        make_face()
        with BuildLine():
            Line((-53.2329568991, -46.1617550661), (-43.1063358313, -46.1617550661))
            ThreePointArc((-43.1063358313, -46.1617550661), (-53.217313191, -33.4986323432), (-59.7329568991, -18.6617550661))
            Line((-59.7329568991, -18.6617550661), (-59.7329568991, -39.6617550661))
            ThreePointArc((-59.7329568991, -39.6617550661), (-58.6664204487, -39.7498520725), (-57.6287943578, -40.0117550661))
            ThreePointArc((-57.6287943578, -40.0117550661), (-54.4449016555, -42.3820101355), (-53.2329568991, -46.1617550661))
        make_face()
    extrude(amount=F1_DEPTH)


solid = f1.part
